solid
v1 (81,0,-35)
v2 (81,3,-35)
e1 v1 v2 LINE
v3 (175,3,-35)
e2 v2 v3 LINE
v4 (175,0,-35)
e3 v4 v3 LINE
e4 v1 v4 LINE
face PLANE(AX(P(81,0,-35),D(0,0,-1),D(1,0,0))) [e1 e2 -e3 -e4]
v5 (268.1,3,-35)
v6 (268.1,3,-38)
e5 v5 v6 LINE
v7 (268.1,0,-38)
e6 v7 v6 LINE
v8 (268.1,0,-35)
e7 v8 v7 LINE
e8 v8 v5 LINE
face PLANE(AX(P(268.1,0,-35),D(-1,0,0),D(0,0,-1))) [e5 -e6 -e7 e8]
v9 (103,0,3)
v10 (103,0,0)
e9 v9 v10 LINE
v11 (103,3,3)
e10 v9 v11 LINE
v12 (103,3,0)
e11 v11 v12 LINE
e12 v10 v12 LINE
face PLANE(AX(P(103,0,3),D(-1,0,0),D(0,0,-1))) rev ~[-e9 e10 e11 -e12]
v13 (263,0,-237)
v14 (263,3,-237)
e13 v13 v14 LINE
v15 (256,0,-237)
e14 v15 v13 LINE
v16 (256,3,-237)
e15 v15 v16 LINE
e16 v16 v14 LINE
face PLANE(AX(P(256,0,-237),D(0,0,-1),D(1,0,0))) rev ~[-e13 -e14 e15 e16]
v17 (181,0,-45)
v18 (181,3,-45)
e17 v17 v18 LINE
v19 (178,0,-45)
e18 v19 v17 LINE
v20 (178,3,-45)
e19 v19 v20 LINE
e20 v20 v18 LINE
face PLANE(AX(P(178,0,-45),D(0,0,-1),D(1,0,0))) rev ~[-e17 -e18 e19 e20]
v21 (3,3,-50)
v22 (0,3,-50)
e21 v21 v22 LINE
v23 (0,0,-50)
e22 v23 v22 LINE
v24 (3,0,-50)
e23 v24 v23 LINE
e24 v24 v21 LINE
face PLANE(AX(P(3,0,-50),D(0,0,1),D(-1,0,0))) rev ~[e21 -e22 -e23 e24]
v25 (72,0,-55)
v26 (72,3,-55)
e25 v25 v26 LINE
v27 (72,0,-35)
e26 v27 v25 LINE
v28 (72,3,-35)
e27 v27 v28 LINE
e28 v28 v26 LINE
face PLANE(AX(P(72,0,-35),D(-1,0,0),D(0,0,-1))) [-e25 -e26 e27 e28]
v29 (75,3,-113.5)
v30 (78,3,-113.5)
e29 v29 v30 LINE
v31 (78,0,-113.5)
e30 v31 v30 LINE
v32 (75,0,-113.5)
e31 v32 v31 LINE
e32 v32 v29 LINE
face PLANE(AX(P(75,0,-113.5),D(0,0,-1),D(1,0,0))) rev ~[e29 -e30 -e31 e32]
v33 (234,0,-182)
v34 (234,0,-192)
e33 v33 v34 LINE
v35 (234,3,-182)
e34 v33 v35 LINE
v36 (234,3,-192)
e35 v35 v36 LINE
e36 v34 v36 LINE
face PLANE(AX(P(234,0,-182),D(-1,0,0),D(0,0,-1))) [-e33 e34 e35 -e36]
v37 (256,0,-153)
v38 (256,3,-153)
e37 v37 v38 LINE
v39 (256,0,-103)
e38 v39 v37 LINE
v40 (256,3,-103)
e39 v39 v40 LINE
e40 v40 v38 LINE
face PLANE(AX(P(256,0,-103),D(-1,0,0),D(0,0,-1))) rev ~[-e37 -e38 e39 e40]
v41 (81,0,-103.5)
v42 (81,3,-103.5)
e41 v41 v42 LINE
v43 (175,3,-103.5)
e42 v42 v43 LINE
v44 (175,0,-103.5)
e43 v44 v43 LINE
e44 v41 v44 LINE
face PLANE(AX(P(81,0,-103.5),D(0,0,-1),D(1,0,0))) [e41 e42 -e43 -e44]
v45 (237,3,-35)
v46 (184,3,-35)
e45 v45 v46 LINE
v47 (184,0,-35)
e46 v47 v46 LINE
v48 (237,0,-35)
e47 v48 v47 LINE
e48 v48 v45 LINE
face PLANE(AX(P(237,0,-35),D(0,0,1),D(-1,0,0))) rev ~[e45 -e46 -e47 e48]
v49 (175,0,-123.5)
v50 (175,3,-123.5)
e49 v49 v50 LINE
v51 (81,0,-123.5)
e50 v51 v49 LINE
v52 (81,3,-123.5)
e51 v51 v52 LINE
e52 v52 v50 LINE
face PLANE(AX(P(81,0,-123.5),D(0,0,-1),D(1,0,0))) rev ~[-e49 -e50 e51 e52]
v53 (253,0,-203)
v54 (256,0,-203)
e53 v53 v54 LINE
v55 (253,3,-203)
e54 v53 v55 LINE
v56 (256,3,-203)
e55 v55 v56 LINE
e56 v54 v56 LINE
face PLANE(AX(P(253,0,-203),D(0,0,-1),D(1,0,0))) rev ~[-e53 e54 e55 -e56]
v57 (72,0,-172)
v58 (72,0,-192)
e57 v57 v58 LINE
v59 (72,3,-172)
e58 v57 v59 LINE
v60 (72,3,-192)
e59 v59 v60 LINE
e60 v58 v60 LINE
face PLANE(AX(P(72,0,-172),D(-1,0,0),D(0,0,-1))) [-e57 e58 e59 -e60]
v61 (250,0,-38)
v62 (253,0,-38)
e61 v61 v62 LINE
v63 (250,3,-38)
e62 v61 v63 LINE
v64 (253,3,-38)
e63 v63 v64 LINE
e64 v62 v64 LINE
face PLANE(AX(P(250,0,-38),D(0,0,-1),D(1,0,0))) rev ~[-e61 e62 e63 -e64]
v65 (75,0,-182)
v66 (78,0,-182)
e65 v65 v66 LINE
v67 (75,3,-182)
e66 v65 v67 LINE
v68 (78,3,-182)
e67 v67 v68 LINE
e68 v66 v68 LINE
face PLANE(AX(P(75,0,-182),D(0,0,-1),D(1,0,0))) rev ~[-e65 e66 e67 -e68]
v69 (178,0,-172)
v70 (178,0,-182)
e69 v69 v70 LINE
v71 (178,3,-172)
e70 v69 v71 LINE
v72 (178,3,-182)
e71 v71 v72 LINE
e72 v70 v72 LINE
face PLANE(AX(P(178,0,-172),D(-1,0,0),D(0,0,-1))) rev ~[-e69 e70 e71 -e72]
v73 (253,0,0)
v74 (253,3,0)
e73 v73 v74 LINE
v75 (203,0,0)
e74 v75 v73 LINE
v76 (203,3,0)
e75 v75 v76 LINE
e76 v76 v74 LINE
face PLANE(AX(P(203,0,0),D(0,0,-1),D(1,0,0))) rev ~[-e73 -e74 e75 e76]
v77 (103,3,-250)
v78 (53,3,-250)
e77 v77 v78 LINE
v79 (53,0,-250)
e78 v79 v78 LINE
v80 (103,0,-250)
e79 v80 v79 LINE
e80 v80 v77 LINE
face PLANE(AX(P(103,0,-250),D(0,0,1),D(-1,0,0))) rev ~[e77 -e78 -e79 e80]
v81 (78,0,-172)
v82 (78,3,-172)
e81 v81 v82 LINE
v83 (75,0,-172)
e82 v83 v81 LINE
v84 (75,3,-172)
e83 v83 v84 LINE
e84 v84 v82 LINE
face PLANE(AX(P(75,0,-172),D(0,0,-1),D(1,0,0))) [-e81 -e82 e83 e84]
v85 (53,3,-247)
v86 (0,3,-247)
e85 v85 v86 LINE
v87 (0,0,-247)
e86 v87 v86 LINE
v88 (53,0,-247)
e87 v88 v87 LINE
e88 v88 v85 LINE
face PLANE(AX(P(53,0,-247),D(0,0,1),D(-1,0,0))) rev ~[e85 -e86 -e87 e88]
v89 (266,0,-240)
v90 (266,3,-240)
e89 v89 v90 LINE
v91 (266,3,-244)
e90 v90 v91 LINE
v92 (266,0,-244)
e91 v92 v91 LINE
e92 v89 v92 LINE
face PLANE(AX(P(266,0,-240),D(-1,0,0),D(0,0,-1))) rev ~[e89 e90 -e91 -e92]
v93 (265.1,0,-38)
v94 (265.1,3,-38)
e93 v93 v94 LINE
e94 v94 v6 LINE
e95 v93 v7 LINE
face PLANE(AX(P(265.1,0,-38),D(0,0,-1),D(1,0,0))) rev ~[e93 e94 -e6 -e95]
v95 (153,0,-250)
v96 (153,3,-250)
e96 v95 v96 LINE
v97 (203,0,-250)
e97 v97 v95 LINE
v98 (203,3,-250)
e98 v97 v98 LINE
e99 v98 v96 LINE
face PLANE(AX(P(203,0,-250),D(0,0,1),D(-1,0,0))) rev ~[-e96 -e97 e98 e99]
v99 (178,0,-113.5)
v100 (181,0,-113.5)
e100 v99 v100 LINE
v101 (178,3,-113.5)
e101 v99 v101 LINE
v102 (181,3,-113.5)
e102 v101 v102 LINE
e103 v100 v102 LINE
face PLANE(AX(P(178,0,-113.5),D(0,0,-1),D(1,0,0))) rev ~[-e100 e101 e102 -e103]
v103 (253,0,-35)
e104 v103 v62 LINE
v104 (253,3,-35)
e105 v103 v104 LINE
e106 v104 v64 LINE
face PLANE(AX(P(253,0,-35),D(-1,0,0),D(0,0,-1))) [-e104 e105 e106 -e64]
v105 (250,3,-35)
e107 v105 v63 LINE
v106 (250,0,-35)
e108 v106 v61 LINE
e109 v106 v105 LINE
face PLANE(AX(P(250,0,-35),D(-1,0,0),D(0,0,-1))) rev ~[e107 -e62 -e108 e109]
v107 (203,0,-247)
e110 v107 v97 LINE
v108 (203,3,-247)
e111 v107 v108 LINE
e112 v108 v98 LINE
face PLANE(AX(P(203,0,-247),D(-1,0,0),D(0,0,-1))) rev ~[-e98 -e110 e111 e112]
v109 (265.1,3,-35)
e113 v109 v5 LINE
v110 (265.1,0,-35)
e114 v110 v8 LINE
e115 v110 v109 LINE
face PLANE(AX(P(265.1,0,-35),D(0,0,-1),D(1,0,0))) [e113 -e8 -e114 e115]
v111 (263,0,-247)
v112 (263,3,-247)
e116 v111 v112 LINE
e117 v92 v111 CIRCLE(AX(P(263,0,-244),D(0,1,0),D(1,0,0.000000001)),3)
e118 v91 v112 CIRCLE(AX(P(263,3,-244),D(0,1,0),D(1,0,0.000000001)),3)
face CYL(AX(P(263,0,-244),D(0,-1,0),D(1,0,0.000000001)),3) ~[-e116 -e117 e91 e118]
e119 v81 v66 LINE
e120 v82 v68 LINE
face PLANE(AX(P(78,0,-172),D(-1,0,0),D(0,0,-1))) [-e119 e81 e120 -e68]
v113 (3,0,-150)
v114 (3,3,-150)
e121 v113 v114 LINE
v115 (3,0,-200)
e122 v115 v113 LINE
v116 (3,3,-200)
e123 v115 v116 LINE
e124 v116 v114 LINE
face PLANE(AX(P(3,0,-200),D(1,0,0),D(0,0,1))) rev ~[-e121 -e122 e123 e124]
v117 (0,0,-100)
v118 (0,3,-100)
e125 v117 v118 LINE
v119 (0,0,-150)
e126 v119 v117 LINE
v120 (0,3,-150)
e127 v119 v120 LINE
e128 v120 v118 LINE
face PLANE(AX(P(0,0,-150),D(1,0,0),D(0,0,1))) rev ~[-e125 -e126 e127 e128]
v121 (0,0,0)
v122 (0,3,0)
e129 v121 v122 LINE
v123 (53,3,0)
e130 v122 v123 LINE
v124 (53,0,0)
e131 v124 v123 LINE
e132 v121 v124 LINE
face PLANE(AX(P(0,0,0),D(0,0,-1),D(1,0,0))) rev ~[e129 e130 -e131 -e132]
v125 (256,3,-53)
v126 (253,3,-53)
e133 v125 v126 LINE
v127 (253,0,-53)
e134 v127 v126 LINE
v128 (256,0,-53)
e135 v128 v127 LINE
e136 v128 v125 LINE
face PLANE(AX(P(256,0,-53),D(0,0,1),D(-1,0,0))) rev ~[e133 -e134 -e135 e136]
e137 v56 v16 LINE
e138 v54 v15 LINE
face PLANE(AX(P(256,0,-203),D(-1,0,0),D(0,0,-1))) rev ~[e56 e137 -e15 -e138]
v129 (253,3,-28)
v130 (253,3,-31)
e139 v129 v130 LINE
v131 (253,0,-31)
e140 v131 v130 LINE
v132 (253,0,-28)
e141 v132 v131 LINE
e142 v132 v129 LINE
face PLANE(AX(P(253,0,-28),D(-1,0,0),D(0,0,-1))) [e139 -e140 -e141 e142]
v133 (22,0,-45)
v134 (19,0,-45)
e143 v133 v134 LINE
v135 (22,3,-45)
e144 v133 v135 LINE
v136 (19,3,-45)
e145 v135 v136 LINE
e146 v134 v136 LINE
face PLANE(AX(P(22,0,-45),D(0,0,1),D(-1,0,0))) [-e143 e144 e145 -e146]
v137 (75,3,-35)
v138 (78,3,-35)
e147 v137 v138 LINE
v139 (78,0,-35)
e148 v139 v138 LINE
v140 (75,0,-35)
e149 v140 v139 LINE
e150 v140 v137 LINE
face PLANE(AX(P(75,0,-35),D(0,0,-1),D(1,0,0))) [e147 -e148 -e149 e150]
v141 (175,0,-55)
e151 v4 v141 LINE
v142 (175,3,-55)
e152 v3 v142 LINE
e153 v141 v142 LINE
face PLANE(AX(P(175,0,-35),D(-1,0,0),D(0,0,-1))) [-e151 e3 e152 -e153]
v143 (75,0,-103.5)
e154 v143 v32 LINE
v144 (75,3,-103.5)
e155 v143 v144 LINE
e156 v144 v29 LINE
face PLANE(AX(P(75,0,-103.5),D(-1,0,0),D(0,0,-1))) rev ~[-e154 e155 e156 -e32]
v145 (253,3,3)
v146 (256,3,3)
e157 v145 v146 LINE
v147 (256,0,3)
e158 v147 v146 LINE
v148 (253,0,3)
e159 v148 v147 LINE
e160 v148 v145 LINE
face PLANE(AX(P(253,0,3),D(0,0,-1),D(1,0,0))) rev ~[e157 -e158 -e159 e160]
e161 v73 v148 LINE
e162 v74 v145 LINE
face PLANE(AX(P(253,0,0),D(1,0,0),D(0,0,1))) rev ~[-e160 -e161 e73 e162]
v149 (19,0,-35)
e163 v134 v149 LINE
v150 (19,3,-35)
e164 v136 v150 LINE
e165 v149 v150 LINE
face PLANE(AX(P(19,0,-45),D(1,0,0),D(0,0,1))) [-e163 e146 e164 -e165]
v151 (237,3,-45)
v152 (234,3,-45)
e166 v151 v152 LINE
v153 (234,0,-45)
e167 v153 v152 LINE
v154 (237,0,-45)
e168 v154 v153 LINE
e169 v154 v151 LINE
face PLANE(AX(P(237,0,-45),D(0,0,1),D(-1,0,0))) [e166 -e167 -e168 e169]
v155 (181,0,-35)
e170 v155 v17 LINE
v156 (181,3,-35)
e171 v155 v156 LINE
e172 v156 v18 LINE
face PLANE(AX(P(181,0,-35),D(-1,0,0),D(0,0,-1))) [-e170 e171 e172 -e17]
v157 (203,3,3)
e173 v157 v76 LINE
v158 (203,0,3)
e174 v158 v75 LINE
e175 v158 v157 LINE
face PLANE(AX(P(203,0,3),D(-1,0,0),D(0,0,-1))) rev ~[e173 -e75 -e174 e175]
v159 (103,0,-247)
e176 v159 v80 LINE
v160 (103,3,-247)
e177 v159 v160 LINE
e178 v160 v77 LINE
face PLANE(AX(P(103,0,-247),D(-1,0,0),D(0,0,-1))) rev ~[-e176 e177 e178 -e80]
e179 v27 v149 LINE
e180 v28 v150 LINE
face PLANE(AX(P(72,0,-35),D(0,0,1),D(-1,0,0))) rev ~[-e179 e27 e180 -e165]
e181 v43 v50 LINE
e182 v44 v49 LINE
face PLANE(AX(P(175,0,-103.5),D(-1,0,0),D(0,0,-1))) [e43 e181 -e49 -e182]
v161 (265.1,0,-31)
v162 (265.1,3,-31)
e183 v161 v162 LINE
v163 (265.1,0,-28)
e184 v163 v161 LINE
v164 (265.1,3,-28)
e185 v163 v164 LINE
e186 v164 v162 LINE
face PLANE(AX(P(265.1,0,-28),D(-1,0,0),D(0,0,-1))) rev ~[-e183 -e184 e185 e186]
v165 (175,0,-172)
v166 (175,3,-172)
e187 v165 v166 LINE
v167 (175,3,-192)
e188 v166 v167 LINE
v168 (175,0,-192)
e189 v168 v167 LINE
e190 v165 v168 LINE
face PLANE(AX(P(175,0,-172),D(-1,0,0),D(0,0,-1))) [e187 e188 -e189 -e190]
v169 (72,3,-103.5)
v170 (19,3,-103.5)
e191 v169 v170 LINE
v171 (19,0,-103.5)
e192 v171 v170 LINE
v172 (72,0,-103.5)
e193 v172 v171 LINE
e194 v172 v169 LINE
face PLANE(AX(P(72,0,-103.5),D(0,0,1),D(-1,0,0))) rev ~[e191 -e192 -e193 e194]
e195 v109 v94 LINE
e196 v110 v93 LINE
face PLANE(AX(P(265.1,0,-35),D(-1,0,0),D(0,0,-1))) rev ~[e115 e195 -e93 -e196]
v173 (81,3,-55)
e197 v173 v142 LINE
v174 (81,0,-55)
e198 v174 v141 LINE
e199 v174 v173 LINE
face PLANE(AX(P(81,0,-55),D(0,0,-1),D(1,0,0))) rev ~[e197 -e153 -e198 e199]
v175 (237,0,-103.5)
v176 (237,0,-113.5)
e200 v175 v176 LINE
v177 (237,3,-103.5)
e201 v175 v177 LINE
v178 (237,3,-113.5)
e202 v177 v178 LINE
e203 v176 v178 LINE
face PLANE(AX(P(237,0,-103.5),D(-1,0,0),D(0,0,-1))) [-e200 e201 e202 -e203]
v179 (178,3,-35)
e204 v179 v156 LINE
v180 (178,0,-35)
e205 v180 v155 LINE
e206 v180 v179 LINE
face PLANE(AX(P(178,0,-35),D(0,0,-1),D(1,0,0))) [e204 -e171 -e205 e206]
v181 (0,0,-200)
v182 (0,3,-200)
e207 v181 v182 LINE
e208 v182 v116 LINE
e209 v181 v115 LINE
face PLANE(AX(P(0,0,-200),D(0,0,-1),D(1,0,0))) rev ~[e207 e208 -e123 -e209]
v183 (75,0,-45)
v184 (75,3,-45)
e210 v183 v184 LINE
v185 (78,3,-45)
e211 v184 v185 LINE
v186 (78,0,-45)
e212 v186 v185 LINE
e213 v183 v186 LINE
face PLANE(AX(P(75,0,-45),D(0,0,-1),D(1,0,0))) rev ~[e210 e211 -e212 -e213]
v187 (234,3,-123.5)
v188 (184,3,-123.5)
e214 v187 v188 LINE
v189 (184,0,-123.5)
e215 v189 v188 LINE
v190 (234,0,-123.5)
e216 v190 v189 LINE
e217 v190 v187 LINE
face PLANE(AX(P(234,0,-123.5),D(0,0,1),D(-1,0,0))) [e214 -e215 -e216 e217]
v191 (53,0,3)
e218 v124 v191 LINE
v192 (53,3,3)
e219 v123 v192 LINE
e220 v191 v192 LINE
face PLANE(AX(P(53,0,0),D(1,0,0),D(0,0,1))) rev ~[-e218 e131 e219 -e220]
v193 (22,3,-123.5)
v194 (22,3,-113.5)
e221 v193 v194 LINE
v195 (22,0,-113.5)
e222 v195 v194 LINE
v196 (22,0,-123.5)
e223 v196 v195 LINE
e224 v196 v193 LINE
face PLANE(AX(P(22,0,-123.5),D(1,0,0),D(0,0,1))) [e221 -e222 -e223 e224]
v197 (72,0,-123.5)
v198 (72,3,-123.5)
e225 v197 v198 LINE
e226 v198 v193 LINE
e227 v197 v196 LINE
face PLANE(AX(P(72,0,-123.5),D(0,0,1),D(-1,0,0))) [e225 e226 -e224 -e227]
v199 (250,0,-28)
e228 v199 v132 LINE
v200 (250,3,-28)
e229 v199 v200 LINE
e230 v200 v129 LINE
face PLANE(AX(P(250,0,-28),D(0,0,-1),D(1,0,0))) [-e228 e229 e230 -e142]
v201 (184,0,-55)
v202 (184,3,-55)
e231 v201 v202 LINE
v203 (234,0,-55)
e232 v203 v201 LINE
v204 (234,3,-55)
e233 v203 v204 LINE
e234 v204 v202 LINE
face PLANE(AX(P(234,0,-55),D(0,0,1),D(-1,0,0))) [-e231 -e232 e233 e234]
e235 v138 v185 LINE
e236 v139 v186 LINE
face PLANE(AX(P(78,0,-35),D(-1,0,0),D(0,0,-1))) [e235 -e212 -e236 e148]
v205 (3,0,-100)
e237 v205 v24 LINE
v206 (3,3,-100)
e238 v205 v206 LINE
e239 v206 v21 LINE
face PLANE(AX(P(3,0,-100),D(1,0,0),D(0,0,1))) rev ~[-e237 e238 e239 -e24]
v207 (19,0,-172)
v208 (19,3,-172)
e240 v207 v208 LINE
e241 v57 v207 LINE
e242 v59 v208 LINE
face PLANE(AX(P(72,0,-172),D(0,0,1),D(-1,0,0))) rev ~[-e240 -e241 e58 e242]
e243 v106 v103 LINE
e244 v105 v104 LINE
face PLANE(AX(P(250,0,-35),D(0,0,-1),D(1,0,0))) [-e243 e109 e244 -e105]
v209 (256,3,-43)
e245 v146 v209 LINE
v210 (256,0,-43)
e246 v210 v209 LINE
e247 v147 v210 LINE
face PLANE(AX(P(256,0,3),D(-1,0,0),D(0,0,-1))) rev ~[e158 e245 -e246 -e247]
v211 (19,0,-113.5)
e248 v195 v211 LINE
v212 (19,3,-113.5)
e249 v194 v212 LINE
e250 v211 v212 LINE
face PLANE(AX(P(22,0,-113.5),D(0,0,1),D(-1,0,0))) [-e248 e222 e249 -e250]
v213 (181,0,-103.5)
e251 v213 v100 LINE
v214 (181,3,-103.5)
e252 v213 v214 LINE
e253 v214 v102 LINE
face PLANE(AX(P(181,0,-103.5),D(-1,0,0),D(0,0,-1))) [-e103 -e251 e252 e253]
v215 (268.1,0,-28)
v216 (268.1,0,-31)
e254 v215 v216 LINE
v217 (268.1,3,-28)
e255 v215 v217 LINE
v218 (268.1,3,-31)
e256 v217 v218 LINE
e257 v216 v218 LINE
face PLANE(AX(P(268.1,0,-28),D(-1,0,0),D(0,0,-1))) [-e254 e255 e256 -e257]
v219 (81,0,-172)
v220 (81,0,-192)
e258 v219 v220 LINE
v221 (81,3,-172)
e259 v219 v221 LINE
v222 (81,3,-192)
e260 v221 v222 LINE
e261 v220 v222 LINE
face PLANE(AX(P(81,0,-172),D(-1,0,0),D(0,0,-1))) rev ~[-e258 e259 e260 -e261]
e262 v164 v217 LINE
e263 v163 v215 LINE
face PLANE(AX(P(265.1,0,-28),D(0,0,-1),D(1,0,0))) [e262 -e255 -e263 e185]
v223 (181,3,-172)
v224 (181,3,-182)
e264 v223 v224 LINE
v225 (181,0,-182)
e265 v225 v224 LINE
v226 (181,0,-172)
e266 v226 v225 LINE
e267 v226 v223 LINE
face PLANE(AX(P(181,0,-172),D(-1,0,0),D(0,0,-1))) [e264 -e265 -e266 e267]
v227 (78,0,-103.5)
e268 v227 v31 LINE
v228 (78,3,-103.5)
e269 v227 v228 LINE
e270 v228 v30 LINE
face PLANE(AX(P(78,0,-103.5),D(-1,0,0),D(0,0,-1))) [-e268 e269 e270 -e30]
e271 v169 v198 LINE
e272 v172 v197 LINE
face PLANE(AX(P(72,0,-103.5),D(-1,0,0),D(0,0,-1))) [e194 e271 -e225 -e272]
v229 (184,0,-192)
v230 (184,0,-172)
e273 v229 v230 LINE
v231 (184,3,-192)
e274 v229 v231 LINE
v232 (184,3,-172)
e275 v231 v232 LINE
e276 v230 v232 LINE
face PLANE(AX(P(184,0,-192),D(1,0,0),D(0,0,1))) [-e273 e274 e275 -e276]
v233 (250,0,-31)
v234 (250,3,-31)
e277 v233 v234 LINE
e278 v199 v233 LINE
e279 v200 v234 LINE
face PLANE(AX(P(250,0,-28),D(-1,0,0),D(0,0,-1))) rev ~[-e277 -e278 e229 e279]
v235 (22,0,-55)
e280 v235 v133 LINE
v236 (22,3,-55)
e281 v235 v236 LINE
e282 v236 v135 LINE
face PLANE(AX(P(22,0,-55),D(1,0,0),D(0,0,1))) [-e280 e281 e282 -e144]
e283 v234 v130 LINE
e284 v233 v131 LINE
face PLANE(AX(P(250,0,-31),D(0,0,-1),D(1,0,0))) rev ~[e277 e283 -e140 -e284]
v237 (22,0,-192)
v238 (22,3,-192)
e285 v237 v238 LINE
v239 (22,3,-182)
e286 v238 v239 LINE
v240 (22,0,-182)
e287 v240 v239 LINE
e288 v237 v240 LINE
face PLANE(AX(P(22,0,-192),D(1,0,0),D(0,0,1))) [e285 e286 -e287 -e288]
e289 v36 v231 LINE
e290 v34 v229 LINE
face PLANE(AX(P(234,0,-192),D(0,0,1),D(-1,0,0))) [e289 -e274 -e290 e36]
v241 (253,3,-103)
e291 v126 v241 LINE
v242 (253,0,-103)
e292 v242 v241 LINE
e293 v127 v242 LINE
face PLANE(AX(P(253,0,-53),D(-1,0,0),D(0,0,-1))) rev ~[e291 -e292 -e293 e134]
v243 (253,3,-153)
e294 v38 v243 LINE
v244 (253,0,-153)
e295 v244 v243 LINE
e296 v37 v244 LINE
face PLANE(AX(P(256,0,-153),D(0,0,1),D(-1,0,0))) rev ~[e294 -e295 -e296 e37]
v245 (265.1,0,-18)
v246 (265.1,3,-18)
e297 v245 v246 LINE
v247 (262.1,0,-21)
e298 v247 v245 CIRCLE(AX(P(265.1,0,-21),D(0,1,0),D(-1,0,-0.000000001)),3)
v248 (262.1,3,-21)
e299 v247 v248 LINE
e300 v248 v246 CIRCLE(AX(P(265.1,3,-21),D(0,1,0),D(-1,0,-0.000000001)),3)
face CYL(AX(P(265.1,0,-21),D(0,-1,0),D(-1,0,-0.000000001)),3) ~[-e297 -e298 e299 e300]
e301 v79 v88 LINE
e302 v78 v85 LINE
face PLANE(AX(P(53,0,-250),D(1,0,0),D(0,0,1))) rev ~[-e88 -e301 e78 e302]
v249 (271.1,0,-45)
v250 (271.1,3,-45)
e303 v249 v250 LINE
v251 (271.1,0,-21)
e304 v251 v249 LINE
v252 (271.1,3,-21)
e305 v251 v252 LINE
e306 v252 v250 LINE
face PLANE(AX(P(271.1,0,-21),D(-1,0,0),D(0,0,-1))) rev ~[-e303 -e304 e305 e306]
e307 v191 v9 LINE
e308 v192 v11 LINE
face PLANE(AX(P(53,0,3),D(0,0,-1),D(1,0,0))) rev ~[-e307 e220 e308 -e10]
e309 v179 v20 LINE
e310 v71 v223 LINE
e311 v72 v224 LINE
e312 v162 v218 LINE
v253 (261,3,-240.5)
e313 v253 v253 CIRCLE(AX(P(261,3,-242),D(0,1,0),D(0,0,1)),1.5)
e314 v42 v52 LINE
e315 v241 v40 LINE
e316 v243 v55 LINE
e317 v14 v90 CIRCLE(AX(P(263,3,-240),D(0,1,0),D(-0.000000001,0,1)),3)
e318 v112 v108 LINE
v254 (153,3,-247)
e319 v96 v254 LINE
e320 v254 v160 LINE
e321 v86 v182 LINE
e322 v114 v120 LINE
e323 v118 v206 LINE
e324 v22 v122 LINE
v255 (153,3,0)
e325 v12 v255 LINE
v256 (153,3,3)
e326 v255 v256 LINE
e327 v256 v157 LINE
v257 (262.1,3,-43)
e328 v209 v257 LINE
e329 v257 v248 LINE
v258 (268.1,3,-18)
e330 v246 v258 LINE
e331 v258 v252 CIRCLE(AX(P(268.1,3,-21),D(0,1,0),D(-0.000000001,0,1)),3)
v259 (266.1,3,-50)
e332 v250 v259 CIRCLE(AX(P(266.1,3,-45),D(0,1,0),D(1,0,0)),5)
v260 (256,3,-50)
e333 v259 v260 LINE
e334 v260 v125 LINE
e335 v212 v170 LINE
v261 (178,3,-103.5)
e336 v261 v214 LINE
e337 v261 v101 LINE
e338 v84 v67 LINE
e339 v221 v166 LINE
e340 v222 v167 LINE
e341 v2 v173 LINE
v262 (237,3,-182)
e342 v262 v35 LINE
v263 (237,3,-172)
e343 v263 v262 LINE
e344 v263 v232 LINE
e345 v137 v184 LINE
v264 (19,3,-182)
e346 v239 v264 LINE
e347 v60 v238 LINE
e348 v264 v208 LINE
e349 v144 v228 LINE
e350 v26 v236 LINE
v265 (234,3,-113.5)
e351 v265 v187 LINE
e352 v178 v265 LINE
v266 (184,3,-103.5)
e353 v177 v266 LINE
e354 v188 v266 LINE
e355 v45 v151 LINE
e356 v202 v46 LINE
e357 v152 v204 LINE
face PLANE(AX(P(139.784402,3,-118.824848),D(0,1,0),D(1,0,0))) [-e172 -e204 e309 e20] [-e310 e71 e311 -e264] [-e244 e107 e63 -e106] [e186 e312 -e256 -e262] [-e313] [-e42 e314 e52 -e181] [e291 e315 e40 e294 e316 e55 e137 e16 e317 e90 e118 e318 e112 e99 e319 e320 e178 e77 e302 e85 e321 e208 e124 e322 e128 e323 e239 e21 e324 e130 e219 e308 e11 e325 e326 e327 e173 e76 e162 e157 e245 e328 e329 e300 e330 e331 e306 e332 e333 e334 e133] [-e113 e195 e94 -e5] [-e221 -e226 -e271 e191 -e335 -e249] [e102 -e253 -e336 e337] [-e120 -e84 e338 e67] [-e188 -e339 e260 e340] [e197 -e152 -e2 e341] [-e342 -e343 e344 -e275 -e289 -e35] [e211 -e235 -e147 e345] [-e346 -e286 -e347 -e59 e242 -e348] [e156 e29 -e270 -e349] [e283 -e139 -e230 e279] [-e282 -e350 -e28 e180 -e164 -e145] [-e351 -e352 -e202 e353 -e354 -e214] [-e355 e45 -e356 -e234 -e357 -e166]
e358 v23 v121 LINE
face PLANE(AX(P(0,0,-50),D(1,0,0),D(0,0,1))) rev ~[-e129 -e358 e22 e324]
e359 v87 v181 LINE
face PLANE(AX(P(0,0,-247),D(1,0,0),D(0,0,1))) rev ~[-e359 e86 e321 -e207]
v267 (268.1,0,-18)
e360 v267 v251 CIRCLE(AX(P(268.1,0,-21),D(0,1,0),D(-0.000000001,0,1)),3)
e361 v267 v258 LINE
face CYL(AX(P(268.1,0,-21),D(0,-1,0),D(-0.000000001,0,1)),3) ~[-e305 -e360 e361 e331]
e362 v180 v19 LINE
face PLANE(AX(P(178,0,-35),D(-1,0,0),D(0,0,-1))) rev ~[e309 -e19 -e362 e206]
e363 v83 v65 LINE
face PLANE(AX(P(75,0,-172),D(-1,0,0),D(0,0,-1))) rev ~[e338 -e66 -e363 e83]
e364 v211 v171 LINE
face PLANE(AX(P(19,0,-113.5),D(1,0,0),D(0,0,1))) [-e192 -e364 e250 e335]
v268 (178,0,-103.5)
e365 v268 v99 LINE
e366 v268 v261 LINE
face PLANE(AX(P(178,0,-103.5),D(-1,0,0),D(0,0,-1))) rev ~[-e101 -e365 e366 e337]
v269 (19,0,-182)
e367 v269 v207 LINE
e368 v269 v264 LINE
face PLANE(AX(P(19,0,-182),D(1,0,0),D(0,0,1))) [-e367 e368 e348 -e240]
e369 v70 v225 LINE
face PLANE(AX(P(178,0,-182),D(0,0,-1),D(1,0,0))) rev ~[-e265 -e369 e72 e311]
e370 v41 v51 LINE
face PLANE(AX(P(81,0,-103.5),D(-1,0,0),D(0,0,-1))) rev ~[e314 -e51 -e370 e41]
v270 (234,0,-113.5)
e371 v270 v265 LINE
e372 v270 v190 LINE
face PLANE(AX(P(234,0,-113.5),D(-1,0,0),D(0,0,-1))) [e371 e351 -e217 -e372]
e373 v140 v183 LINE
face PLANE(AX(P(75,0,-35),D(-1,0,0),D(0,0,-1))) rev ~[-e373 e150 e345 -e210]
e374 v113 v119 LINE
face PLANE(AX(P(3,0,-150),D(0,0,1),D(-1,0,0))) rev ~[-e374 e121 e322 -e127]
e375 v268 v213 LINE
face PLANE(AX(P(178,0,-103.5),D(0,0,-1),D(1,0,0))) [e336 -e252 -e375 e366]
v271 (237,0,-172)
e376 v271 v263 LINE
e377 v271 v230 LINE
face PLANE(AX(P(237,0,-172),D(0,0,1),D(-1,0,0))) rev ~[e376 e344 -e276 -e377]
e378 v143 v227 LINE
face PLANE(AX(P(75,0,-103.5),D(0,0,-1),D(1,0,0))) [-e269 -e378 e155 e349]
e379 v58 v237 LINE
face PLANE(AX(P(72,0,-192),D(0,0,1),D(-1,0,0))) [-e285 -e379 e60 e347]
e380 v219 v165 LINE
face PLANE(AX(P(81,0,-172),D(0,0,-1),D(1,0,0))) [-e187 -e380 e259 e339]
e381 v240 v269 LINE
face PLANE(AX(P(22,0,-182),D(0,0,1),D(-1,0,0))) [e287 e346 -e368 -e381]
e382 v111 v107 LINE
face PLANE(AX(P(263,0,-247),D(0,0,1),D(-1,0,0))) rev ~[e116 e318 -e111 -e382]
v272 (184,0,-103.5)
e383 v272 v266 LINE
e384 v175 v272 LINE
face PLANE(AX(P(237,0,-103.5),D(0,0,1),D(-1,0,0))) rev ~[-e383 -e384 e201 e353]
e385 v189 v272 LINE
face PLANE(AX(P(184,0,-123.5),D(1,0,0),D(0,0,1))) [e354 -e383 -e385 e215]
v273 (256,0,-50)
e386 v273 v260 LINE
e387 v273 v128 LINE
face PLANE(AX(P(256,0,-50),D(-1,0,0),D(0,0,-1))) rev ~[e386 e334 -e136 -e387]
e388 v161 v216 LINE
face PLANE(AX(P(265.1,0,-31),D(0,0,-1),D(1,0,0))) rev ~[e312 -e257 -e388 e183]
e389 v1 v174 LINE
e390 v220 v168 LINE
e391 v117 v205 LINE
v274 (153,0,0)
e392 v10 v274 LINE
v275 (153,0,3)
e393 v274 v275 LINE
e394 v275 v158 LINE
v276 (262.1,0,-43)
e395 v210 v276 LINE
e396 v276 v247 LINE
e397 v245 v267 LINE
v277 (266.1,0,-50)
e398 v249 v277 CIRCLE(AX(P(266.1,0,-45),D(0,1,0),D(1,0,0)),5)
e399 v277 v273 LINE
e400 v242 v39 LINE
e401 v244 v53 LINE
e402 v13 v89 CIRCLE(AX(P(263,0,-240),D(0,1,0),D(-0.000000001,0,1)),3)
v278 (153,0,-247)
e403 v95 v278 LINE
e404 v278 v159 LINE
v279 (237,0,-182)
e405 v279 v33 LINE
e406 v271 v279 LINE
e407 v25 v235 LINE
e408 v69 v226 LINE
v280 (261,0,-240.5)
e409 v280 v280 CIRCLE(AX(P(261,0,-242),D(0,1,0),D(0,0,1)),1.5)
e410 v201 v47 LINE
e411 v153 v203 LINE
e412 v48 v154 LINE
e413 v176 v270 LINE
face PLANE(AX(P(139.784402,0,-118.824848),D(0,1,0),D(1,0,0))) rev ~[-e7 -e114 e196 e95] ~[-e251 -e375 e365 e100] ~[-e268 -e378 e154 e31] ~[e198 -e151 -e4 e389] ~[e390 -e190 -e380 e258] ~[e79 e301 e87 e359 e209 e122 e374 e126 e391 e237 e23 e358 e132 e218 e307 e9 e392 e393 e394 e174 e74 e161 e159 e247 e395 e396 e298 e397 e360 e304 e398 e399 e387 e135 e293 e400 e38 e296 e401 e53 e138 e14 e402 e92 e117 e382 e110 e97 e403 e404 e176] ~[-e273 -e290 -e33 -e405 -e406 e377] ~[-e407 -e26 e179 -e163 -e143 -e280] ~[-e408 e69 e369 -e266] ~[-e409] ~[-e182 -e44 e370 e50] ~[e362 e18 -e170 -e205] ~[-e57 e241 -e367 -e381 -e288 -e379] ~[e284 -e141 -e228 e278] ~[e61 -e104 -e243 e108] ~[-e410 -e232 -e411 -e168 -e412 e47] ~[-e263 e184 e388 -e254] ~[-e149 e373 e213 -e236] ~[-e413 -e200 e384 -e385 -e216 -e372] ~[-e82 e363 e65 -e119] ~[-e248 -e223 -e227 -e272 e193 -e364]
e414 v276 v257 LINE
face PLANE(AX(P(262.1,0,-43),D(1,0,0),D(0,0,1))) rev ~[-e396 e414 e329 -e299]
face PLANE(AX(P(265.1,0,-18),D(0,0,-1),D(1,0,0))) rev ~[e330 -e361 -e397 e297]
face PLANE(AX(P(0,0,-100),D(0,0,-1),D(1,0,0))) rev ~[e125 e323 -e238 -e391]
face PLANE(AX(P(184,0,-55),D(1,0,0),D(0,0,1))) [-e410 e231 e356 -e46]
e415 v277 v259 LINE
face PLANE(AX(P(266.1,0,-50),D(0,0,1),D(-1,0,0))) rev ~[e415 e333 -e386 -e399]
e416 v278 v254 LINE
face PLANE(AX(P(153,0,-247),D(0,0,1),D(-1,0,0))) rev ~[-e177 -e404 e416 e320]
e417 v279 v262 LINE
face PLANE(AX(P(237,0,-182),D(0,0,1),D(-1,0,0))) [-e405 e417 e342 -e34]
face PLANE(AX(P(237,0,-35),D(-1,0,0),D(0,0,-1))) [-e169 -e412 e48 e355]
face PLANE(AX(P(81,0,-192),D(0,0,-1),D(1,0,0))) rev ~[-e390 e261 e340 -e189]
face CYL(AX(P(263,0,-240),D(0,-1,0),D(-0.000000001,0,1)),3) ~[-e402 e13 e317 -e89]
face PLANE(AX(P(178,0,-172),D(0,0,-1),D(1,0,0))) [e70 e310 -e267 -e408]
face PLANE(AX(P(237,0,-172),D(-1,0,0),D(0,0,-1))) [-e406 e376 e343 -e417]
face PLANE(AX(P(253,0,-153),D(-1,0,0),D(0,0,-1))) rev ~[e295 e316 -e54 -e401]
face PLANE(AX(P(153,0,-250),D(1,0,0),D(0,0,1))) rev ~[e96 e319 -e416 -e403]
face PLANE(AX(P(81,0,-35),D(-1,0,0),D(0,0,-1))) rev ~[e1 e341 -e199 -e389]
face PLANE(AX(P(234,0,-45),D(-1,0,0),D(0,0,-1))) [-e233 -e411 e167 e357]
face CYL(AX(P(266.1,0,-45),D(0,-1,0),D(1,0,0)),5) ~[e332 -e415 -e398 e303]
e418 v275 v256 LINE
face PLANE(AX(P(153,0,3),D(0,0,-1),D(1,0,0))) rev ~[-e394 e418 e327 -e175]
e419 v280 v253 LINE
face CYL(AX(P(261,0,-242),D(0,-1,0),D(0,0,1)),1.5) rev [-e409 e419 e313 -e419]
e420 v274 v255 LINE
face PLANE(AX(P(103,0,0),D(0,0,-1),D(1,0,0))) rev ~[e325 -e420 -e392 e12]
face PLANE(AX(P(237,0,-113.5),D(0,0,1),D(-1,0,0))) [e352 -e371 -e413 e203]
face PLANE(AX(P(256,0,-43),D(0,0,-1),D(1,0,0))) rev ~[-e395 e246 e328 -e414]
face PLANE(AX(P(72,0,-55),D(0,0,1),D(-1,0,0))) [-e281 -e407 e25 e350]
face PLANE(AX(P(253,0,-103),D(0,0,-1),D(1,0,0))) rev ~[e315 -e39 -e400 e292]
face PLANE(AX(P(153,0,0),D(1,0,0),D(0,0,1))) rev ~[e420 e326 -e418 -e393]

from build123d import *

# Parameters (mm, degrees)
SKETCH1_R           = 1.5
SKETCH1_W           = 3
SKETCH1_H           = 3
SKETCH1_W_2         = 94
SKETCH1_H_2         = 20
SKETCH1_H_3         = 10
BOSS_EXTRUDE1_DEPTH = 3


with BuildPart() as part:
    # Sketch1 → Boss-Extrude1 (new body)
    with BuildSketch(Plane(origin=(0, 0, 0), x_dir=(1, 0, 0), z_dir=(0, 1, 0))):
        with BuildLine():
            Line((256, 103), (256, 153))
            Line((256, 153), (253, 153))
            Line((253, 153), (253, 203))
            Line((253, 203), (256, 203))
            Line((256, 203), (256, 237))
            Line((256, 237), (263, 237))
            ThreePointArc((263, 237), (265.121320344, 237.878679656), (266, 240))
            Line((266, 240), (266, 244))
            ThreePointArc((266, 244), (265.121320344, 246.121320344), (263, 247))
            Line((263, 247), (253, 247))
            Line((253, 247), (203, 247))
            Line((203, 247), (203, 250))
            Line((203, 250), (153, 250))
            Line((153, 250), (153, 247))
            Line((153, 247), (103, 247))
            Line((103, 247), (103, 250))
            Line((103, 250), (53, 250))
            Line((53, 250), (53, 247))
            Line((53, 247), (0, 247))
            Line((0, 247), (0, 200))
            Line((0, 200), (3, 200))
            Line((3, 200), (3, 150))
            Line((3, 150), (0, 150))
            Line((0, 150), (0, 100))
            Line((0, 100), (3, 100))
            Line((3, 100), (3, 50))
            Line((3, 50), (0, 50))
            Line((0, 50), (0, 0))
            Line((0, 0), (53, 0))
            Line((53, 0), (53, -3))
            Line((53, -3), (103, -3))
            Line((103, -3), (103, 0))
            Line((103, 0), (153, 0))
            Line((153, 0), (153, -3))
            Line((153, -3), (203, -3))
            Line((203, -3), (203, 0))
            Line((203, 0), (253, 0))
            Line((253, 0), (253, -3))
            Line((253, -3), (256, -3))
            Line((256, -3), (256, 0))
            Line((256, 0), (256, 43))
            Line((256, 43), (262.1, 43))
            Line((262.1, 43), (262.1, 21))
            ThreePointArc((262.1, 21), (262.978679656, 18.878679656), (265.1, 18))
            Line((265.1, 18), (268.1, 18))
            ThreePointArc((268.1, 18), (270.221320344, 18.878679656), (271.1, 21))
            Line((271.1, 21), (271.1, 43))
            Line((271.1, 43), (271.1, 45))
            ThreePointArc((271.1, 45), (269.635533906, 48.535533906), (266.1, 50))
            Line((266.1, 50), (256, 50))
            Line((256, 50), (256, 53))
            Line((256, 53), (253, 53))
            Line((253, 53), (253, 103))
            Line((253, 103), (256, 103))
        make_face()
        with Locations(Location((261, 242, 0), (0, 0, 270))):
            Circle(SKETCH1_R, mode=Mode.SUBTRACT)
        with Locations((266.6, 29.5)):
            Rectangle(SKETCH1_W, SKETCH1_H, mode=Mode.SUBTRACT)
        with Locations((128, 45)):
            Rectangle(SKETCH1_W_2, SKETCH1_H_2, mode=Mode.SUBTRACT)
        with Locations((266.6, 36.5)):
            Rectangle(SKETCH1_W, SKETCH1_H, mode=Mode.SUBTRACT)
        with Locations((251.5, 29.5)):
            Rectangle(SKETCH1_W, SKETCH1_H, mode=Mode.SUBTRACT)
        with Locations((251.5, 36.5)):
            Rectangle(SKETCH1_W, SKETCH1_H, mode=Mode.SUBTRACT)
        Polygon((184, 35), (234, 35), (237, 35), (237, 45), (234, 45), (234, 55), (184, 55), align=None, mode=Mode.SUBTRACT)
        with Locations((76.5, 40)):
            Rectangle(SKETCH1_W, SKETCH1_H_3, mode=Mode.SUBTRACT)
        Polygon((184, 103.5), (234, 103.5), (237, 103.5), (237, 113.5), (234, 113.5), (234, 123.5), (184, 123.5), align=None, mode=Mode.SUBTRACT)
        with Locations((179.5, 40)):
            Rectangle(SKETCH1_W, SKETCH1_H_3, mode=Mode.SUBTRACT)
        with Locations((128, 113.5)):
            Rectangle(SKETCH1_W_2, SKETCH1_H_2, mode=Mode.SUBTRACT)
        with Locations((76.5, 108.5)):
            Rectangle(SKETCH1_W, SKETCH1_H_3, mode=Mode.SUBTRACT)
        with Locations((128, 182)):
            Rectangle(SKETCH1_W_2, SKETCH1_H_2, mode=Mode.SUBTRACT)
        with Locations((179.5, 108.5)):
            Rectangle(SKETCH1_W, SKETCH1_H_3, mode=Mode.SUBTRACT)
        Polygon((184, 172), (234, 172), (237, 172), (237, 182), (234, 182), (234, 192), (184, 192), align=None, mode=Mode.SUBTRACT)
        with Locations((76.5, 177)):
            Rectangle(SKETCH1_W, SKETCH1_H_3, mode=Mode.SUBTRACT)
        with Locations((179.5, 177)):
            Rectangle(SKETCH1_W, SKETCH1_H_3, mode=Mode.SUBTRACT)
        Polygon((22, 35), (72, 35), (72, 55), (22, 55), (22, 45), (19, 45), (19, 35), align=None, mode=Mode.SUBTRACT)
        Polygon((22, 103.5), (72, 103.5), (72, 123.5), (22, 123.5), (22, 113.5), (19, 113.5), (19, 103.5), align=None, mode=Mode.SUBTRACT)
        Polygon((22, 172), (72, 172), (72, 192), (22, 192), (22, 182), (19, 182), (19, 172), align=None, mode=Mode.SUBTRACT)
    extrude(amount=BOSS_EXTRUDE1_DEPTH)


solid = part.part
